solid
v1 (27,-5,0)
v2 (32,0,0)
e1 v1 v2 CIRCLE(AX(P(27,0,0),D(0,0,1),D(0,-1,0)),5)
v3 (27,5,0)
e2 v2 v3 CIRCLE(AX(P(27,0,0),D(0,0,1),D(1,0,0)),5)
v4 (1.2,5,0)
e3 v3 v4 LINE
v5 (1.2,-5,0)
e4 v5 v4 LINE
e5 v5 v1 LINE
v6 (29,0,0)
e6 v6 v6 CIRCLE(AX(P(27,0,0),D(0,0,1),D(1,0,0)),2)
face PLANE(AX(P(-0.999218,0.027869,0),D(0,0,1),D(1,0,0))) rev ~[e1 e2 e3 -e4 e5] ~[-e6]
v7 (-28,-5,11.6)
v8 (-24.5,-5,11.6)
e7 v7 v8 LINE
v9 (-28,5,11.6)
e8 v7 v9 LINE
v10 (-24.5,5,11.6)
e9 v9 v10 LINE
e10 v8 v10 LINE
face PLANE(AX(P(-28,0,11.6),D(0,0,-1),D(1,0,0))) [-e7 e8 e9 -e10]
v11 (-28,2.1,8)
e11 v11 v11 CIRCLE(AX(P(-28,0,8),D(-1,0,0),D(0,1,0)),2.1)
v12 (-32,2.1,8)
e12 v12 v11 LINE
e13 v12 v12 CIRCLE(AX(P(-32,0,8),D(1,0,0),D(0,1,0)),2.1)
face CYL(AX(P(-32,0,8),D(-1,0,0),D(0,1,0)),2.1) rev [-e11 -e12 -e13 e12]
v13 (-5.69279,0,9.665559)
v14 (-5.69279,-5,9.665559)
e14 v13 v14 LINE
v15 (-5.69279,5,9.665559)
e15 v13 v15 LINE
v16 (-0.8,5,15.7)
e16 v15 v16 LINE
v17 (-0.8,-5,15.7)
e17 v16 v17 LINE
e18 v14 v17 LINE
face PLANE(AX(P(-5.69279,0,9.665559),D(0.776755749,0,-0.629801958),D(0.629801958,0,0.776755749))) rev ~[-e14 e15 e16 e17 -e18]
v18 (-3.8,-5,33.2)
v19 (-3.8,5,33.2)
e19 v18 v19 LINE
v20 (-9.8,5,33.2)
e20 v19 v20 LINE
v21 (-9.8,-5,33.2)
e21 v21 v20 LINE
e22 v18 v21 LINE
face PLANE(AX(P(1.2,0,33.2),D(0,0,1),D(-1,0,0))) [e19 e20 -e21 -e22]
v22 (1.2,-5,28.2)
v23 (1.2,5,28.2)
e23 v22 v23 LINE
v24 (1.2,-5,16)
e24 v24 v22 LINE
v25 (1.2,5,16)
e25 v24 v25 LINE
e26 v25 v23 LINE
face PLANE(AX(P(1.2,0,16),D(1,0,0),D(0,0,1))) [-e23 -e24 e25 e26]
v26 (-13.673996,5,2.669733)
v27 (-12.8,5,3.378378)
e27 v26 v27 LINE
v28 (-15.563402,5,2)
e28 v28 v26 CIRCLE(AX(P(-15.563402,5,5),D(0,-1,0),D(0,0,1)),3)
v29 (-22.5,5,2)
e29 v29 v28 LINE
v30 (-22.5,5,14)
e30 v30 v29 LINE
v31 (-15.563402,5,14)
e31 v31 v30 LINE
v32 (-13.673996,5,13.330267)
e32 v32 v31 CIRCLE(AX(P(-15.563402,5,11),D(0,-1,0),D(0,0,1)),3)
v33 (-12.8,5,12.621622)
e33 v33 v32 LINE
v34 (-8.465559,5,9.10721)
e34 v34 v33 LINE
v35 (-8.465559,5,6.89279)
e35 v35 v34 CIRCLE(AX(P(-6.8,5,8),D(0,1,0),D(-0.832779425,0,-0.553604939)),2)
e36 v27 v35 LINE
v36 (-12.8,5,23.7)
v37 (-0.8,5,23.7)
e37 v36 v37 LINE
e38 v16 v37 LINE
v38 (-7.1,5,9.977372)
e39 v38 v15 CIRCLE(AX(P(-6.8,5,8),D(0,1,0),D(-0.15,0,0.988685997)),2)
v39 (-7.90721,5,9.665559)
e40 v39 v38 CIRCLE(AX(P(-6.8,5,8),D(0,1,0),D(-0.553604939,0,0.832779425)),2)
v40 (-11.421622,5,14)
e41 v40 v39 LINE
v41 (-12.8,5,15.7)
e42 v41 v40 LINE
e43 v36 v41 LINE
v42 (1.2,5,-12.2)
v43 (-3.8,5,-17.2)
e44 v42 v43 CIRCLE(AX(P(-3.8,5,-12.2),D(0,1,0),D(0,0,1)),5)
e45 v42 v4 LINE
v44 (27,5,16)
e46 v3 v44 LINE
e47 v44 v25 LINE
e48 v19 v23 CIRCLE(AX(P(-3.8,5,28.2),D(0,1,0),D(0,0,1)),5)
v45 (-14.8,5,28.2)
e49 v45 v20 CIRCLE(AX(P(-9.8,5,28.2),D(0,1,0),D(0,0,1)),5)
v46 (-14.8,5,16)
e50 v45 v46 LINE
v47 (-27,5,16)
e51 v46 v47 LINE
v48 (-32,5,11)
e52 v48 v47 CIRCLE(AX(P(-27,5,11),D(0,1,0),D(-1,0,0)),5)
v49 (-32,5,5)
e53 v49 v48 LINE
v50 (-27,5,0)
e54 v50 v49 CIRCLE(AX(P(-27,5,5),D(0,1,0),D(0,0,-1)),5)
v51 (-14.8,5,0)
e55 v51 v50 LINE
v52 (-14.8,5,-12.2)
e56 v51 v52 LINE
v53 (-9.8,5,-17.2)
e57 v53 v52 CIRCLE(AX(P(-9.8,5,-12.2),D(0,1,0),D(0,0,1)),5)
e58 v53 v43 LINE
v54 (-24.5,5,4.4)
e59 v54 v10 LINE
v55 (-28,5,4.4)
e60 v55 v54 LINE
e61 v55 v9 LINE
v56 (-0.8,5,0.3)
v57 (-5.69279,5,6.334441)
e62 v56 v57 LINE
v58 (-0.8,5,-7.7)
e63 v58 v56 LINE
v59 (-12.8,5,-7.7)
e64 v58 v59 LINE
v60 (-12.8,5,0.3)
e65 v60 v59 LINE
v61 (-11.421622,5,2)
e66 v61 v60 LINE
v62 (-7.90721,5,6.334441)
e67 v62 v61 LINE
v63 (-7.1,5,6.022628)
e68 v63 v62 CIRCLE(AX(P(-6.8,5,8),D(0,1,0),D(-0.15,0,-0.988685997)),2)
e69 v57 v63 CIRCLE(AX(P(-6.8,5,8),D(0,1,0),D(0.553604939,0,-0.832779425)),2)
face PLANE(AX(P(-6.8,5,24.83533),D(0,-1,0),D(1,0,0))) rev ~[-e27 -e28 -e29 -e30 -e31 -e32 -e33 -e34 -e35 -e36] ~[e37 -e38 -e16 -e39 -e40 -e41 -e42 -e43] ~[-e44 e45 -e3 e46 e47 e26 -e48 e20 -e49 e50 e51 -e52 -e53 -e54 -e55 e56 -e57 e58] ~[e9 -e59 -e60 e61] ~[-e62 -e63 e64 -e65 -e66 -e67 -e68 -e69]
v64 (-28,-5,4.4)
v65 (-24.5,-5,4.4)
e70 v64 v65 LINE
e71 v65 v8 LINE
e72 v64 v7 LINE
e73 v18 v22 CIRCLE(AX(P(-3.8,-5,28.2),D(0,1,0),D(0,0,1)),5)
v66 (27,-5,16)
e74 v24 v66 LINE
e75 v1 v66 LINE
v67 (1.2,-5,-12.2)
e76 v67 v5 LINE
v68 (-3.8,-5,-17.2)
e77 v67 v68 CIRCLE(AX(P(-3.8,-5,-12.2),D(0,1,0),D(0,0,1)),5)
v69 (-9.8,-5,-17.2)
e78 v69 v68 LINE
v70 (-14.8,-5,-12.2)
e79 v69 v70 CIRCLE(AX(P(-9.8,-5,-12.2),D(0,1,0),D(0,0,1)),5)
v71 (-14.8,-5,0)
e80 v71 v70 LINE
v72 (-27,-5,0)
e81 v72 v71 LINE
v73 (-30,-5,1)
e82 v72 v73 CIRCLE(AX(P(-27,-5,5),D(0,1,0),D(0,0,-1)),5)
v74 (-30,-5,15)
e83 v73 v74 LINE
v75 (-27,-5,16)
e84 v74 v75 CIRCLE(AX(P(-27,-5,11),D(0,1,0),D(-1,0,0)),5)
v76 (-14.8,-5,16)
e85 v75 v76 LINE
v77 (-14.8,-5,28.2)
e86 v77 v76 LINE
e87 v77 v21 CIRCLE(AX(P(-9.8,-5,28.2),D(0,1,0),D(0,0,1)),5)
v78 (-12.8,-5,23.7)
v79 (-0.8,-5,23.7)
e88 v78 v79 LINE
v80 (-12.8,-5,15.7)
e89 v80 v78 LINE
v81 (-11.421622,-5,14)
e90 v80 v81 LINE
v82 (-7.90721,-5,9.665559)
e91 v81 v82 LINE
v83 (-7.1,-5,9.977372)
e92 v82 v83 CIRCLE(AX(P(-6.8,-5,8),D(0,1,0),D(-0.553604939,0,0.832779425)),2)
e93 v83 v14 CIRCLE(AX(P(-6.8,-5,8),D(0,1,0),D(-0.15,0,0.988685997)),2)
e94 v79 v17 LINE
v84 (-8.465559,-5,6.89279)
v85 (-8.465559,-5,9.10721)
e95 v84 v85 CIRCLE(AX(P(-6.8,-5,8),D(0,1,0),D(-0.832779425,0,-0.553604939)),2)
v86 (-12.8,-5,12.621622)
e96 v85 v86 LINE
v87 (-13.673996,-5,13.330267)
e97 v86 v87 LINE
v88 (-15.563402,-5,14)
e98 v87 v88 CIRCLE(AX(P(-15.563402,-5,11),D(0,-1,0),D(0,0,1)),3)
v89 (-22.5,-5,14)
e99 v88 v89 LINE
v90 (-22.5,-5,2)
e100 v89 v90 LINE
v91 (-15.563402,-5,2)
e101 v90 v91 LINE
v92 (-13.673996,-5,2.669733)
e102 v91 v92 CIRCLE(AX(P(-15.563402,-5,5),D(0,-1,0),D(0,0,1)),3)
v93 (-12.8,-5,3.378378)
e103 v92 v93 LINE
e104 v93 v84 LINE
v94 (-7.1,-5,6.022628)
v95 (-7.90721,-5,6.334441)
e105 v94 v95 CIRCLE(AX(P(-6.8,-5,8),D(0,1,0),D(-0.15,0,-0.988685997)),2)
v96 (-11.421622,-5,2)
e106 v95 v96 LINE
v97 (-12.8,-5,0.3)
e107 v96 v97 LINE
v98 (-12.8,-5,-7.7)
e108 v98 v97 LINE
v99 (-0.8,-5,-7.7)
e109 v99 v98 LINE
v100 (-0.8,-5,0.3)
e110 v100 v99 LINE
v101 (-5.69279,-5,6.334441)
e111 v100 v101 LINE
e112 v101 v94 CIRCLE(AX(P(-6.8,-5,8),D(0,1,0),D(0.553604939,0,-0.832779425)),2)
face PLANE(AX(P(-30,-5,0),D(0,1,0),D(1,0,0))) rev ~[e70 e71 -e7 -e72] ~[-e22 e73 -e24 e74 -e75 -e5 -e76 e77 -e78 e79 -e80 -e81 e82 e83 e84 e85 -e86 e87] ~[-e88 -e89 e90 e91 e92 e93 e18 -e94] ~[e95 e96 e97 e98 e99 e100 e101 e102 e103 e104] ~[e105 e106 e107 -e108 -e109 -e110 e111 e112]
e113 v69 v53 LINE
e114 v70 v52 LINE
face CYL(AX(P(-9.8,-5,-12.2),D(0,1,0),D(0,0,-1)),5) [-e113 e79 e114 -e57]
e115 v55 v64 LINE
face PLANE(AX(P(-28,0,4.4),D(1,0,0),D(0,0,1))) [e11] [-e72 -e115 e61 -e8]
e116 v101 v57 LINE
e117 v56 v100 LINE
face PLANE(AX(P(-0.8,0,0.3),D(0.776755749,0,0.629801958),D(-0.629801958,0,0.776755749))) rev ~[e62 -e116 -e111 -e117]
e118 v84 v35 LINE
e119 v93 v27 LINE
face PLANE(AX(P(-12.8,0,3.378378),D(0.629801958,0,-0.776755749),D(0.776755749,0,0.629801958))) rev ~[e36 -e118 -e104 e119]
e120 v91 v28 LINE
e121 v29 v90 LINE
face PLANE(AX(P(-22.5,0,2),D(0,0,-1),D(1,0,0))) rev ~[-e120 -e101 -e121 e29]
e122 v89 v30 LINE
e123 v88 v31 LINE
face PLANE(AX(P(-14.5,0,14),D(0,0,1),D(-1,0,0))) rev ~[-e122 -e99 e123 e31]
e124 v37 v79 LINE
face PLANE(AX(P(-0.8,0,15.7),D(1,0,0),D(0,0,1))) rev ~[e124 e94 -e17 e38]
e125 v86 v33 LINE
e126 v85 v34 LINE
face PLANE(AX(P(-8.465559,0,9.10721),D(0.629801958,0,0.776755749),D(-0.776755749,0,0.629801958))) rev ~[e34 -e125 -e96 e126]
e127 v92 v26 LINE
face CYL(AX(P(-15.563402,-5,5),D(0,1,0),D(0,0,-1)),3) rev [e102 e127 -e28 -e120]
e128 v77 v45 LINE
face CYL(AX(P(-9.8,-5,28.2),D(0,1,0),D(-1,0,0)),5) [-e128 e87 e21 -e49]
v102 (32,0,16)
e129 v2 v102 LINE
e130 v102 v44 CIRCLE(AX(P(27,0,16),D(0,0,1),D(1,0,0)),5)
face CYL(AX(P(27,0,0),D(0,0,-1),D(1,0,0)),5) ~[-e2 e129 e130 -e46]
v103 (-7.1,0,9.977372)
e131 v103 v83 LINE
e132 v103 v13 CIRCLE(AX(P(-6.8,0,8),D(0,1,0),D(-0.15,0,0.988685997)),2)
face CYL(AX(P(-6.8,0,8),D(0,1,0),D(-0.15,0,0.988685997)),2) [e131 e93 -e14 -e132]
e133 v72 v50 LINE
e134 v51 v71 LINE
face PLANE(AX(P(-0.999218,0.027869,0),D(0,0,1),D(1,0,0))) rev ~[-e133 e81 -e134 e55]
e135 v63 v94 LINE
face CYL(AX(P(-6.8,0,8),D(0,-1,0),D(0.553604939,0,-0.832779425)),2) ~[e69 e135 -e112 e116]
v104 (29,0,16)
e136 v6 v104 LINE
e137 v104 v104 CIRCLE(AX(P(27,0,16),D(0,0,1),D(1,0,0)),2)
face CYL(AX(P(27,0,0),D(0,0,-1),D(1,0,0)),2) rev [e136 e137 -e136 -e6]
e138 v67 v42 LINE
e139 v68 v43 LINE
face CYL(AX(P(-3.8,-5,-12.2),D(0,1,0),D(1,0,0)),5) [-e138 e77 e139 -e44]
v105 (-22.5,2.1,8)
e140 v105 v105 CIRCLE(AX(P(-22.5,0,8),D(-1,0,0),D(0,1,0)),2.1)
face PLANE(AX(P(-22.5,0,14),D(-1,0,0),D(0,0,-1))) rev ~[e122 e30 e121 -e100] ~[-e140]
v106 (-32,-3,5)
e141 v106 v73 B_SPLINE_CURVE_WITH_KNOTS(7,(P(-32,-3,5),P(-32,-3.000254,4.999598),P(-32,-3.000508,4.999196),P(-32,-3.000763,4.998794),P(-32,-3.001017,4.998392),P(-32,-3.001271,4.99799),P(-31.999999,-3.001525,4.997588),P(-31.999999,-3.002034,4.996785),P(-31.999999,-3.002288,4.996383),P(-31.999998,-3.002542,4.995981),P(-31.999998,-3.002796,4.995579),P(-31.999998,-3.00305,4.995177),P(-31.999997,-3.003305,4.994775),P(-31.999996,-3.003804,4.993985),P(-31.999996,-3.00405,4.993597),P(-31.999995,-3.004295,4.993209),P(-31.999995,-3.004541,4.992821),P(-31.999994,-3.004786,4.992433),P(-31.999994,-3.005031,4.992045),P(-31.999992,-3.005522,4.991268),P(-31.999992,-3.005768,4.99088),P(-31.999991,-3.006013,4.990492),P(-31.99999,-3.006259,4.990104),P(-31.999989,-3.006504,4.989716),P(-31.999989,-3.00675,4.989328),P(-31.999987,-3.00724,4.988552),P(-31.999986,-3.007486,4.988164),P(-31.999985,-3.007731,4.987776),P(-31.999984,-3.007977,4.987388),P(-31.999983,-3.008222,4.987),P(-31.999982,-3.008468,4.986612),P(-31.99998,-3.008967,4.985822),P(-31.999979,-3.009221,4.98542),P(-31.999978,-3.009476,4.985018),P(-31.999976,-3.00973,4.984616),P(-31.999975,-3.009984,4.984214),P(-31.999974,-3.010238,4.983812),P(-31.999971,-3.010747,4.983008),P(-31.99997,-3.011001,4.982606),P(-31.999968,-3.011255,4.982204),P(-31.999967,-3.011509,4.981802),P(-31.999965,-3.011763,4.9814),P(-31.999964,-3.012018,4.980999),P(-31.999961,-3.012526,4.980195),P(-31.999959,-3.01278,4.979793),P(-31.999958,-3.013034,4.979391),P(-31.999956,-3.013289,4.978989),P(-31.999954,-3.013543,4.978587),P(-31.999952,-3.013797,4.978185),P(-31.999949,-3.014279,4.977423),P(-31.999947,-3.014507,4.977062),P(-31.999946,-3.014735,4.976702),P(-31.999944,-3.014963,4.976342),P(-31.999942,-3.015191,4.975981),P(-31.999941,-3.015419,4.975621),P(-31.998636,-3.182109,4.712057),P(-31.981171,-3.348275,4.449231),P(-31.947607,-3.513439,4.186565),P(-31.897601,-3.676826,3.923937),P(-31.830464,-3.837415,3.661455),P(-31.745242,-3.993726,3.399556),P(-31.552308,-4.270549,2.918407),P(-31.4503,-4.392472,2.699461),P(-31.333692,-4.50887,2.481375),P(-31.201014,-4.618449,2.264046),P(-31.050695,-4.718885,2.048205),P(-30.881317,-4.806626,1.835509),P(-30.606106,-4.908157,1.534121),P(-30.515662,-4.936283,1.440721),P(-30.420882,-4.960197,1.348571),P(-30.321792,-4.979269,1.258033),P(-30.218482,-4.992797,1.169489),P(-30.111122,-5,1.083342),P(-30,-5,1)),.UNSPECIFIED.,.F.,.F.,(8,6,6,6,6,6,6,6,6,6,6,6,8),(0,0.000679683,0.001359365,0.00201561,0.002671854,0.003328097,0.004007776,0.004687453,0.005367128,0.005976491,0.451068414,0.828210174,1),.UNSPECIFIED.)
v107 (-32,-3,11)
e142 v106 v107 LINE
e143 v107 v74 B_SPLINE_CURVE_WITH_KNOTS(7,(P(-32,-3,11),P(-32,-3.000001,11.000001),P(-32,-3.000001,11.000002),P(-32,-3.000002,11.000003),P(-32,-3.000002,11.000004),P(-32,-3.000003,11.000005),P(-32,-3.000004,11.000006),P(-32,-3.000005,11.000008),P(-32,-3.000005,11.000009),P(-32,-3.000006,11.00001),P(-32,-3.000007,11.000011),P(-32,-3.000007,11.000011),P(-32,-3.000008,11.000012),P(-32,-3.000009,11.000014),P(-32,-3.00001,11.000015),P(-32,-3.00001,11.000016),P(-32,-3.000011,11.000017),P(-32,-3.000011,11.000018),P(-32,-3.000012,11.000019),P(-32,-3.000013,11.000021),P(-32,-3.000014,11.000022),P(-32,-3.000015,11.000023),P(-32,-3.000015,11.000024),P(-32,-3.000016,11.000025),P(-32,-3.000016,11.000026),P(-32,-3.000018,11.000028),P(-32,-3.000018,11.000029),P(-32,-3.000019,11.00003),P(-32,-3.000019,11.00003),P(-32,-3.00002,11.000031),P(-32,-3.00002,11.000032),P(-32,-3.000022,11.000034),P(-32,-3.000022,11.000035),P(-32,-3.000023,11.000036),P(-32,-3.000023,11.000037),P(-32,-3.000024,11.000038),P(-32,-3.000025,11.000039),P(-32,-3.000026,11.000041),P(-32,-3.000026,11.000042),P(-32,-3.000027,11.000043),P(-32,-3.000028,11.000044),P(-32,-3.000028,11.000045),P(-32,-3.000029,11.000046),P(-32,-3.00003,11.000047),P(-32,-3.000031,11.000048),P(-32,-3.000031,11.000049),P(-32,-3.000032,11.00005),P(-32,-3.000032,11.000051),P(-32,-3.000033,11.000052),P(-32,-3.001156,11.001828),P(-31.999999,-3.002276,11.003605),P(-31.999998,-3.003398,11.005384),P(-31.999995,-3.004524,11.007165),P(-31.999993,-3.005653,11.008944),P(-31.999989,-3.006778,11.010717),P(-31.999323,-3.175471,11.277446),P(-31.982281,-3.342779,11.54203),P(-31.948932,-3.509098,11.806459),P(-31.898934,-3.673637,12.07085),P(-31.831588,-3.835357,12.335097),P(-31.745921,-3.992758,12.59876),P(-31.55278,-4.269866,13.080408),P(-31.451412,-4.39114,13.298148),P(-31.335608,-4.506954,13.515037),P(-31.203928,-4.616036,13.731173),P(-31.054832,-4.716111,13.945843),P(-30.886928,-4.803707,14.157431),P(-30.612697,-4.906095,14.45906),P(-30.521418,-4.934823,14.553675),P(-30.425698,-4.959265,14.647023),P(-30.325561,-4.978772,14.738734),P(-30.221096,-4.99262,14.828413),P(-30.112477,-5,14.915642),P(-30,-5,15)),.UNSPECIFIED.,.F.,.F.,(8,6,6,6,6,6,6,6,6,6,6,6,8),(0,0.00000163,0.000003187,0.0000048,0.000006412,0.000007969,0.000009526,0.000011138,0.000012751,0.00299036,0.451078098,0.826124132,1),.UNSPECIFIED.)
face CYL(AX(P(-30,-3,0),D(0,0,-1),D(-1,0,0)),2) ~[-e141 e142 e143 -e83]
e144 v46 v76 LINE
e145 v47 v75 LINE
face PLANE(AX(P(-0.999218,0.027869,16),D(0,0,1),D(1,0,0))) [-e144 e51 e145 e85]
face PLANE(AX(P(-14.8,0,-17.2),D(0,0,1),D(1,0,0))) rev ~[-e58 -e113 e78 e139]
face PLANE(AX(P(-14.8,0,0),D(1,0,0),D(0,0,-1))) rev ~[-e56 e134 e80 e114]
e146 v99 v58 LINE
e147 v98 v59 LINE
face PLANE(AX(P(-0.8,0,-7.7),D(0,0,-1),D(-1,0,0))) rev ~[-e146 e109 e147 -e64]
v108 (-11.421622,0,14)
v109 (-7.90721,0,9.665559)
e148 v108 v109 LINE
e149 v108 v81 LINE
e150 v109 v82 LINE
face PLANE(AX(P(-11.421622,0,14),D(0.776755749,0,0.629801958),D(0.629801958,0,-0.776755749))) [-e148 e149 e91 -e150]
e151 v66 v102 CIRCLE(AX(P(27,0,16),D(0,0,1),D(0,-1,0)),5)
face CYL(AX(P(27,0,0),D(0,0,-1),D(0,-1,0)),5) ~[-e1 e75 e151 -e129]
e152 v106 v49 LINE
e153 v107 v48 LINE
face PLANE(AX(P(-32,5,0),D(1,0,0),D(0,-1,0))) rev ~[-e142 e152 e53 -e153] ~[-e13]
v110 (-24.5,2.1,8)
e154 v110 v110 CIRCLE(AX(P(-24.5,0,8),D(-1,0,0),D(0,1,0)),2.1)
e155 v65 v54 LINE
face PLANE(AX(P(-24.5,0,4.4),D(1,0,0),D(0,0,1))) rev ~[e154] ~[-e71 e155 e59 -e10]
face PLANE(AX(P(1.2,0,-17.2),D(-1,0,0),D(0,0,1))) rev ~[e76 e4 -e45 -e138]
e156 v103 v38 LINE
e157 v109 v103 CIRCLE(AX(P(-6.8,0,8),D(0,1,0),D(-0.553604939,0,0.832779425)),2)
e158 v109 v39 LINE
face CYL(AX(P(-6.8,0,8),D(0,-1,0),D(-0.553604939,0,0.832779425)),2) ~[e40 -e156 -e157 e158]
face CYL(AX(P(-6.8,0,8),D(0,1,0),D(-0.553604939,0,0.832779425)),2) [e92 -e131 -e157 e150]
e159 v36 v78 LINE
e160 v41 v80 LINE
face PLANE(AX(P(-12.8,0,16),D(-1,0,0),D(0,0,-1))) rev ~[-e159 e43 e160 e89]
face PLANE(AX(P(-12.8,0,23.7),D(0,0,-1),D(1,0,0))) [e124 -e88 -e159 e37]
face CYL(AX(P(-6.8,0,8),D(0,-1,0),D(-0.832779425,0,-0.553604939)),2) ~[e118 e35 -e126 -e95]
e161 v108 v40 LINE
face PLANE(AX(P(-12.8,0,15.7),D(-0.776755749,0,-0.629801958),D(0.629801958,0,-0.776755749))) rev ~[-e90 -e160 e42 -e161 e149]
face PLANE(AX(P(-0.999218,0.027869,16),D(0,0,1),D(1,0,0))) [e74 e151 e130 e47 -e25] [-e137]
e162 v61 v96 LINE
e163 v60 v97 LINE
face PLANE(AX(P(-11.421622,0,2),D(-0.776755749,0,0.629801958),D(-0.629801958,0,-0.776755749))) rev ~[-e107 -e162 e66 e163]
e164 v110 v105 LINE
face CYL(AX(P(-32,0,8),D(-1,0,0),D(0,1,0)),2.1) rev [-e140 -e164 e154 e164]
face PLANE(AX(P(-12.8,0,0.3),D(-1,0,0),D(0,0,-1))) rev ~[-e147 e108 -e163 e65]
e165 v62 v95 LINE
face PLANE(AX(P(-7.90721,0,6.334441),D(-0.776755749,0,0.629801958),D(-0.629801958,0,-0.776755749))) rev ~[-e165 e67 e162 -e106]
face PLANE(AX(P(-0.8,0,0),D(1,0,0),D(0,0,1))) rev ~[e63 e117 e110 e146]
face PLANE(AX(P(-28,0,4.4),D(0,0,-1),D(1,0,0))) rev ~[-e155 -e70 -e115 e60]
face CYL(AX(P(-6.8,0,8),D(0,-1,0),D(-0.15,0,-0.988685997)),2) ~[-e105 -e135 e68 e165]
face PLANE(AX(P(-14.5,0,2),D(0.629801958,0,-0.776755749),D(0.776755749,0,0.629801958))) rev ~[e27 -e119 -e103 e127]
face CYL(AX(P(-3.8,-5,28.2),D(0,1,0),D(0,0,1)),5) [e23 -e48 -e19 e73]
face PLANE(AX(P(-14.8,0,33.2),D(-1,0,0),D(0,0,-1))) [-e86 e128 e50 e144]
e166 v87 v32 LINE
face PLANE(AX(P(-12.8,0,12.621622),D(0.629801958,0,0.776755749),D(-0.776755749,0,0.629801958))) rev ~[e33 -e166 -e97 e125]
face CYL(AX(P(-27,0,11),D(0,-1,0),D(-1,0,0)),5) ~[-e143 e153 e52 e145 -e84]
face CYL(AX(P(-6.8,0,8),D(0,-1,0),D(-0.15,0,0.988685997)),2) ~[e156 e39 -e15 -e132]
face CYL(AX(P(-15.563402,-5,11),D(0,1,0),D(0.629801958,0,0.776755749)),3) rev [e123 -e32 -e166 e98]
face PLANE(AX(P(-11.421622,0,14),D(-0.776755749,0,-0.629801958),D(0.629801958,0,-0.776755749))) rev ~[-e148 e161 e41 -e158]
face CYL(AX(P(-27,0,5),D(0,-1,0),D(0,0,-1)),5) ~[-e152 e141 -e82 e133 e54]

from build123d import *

# Parameters (mm, degrees)
F0_R      = 2
F1_DEPTH  = 16
F2_W      = 3.5
F2_H      = 7.2
F3_DEPTH  = 5
F4_DEPTH  = 5
F6_R      = 2.1
F7_DEPTH  = 10
F8_R      = 3
F9_DEPTH  = 5
F10_DEPTH = 5
F11_DEPTH = 5
F12_DEPTH = 5
F13_R     = 5


with BuildPart() as f1:
    # F0 (on Top) → F1 (new body)
    with BuildSketch(Plane.XY):
        with BuildLine():
            ThreePointArc((32, 0), (30.5355339059, 3.5355339059), (27, 5))
            Line((27, 5), (18, 5))
            Line((18, 5), (8, 5))
            Line((8, 5), (-32, 5))
            Line((-32, 5), (-32, -3))
            Line((-32, -3), (-30, -3))
            Line((-30, -3), (-30, -5))
            Line((-30, -5), (27, -5))
            ThreePointArc((27, -5), (30.5355339059, -3.5355339059), (32, 0))
        make_face()
        with Locations((27, 0)):
            Circle(F0_R, mode=Mode.SUBTRACT)
        with BuildLine():
            ThreePointArc((-32, -3), (-31.4142135624, -4.4142135624), (-30, -5))
            Line((-30, -5), (-30, -3))
            Line((-30, -3), (-32, -3))
        make_face()
    extrude(amount=F1_DEPTH)

    # F2 (on Front) → F3 (cut)
    with BuildSketch(Plane.XZ):
        with BuildLine():
            Line((-32, 16), (-32, 11))
            ThreePointArc((-32, 11), (-30.5355339059, 14.5355339059), (-27, 16))
            Line((-27, 16), (-32, 16))
        make_face()
        with BuildLine():
            Line((-32, 0), (-27, 0))
            ThreePointArc((-27, 0), (-30.5355339059, 1.4644660941), (-32, 5))
            Line((-32, 5), (-32, 0))
        make_face()
        with Locations((-26.25, 8)):
            Rectangle(F2_W, F2_H)
        with BuildLine():
            Line((-22.5, 2), (-14.5, 2))
            Line((-14.5, 2), (-12.8, 3.3783783784))
            Line((-12.8, 3.3783783784), (-8.4655588505, 6.8927901212))
            ThreePointArc((-8.4655588505, 6.8927901212), (-8.8, 8), (-8.4655588505, 9.1072098788))
            Line((-8.4655588505, 9.1072098788), (-12.8, 12.6216216216))
            Line((-12.8, 12.6216216216), (-14.5, 14))
            Line((-14.5, 14), (-22.5, 14))
            Line((-22.5, 14), (-22.5, 2))
        make_face()
    extrude(amount=-F3_DEPTH, mode=Mode.SUBTRACT)

    # F2 (on Front) → F4 (cut)
    with BuildSketch(Plane.XZ):
        with Locations((-26.25, 8)):
            Rectangle(F2_W, F2_H)
        with BuildLine():
            Line((-22.5, 2), (-14.5, 2))
            Line((-14.5, 2), (-12.8, 3.3783783784))
            Line((-12.8, 3.3783783784), (-8.4655588505, 6.8927901212))
            ThreePointArc((-8.4655588505, 6.8927901212), (-8.8, 8), (-8.4655588505, 9.1072098788))
            Line((-8.4655588505, 9.1072098788), (-12.8, 12.6216216216))
            Line((-12.8, 12.6216216216), (-14.5, 14))
            Line((-14.5, 14), (-22.5, 14))
            Line((-22.5, 14), (-22.5, 2))
        make_face()
        with BuildLine():
            Line((-32, 16), (-32, 11))
            ThreePointArc((-32, 11), (-30.5355339059, 14.5355339059), (-27, 16))
            Line((-27, 16), (-32, 16))
        make_face()
        with BuildLine():
            Line((-32, 0), (-27, 0))
            ThreePointArc((-27, 0), (-30.5355339059, 1.4644660941), (-32, 5))
            Line((-32, 5), (-32, 0))
        make_face()
    extrude(amount=F4_DEPTH, mode=Mode.SUBTRACT)

    # F6 (on offset) → F7 (cut)
    with BuildSketch(Plane.YZ.offset(-32)):
        with Locations((0, 8)):
            Circle(F6_R)
    extrude(amount=F7_DEPTH, mode=Mode.SUBTRACT)

    # F8
    f8_edges = [f1.edges().sort_by_distance(p)[0] for p in [
        (-14.5, 0, 2),
        (-14.5, 0, 14),
    ]]
    fillet(f8_edges, radius=F8_R)

    # F2 (on Front) → F9 (join)
    with BuildSketch(Plane.XZ):
        Polygon((-14.8, 33.2), (-14.8, 16), (-12.8, 16), (-12.8, 23.7), (-0.8, 23.7), (-0.8, 16), (1.2, 16), (1.2, 33.2), align=None)
        Polygon((-12.8, 0), (-14.8, 0), (-14.8, -17.2), (1.2, -17.2), (1.2, 0), (-0.8, 0), (-0.8, -7.7), (-12.8, -7.7), align=None)
    extrude(amount=F9_DEPTH)

    # F2 (on Front) → F10 (join)
    with BuildSketch(Plane.XZ):
        Polygon((-14.8, 33.2), (-14.8, 16), (-12.8, 16), (-12.8, 23.7), (-0.8, 23.7), (-0.8, 16), (1.2, 16), (1.2, 33.2), align=None)
        Polygon((-12.8, 0), (-14.8, 0), (-14.8, -17.2), (1.2, -17.2), (1.2, 0), (-0.8, 0), (-0.8, -7.7), (-12.8, -7.7), align=None)
    extrude(amount=-F10_DEPTH)

    # F2 (on Front) → F11 (cut)
    with BuildSketch(Plane.XZ):
        with BuildLine():
            Line((-12.8, 0.3), (-12.8, 0))
            Line((-12.8, 0), (-0.8, 0))
            Line((-0.8, 0), (-0.8, 0.3))
            Line((-0.8, 0.3), (-5.6927901212, 6.3344411495))
            ThreePointArc((-5.6927901212, 6.3344411495), (-6.3673294485, 6.047361735), (-7.1, 6.0226280067))
            Line((-7.1, 6.0226280067), (-7.1, 2))
            Line((-7.1, 2), (-11.4216216216, 2))
            Line((-11.4216216216, 2), (-12.8, 0.3))
        make_face()
        with BuildLine():
            Line((-7.9072098788, 6.3344411495), (-11.4216216216, 2))
            Line((-11.4216216216, 2), (-7.1, 2))
            Line((-7.1, 2), (-7.1, 6.0226280067))
            ThreePointArc((-7.1, 6.0226280067), (-7.5206710552, 6.1343544736), (-7.9072098788, 6.3344411495))
        make_face()
        with BuildLine():
            Line((-0.8, 16), (-12.8, 16))
            Line((-12.8, 16), (-12.8, 15.7))
            Line((-12.8, 15.7), (-11.4216216216, 14))
            Line((-11.4216216216, 14), (-7.1, 14))
            Line((-7.1, 14), (-7.1, 9.9773719933))
            ThreePointArc((-7.1, 9.9773719933), (-6.3673294485, 9.952638265), (-5.6927901212, 9.6655588505))
            Line((-5.6927901212, 9.6655588505), (-0.8, 15.7))
            Line((-0.8, 15.7), (-0.8, 16))
        make_face()
        with BuildLine():
            Line((-7.1, 14), (-11.4216216216, 14))
            Line((-11.4216216216, 14), (-7.9072098788, 9.6655588505))
            ThreePointArc((-7.9072098788, 9.6655588505), (-7.5206710552, 9.8656455264), (-7.1, 9.9773719933))
            Line((-7.1, 9.9773719933), (-7.1, 14))
        make_face()
    extrude(amount=-F11_DEPTH, mode=Mode.SUBTRACT)

    # F2 (on Front) → F12 (cut)
    with BuildSketch(Plane.XZ):
        with BuildLine():
            Line((-12.8, 0.3), (-12.8, 0))
            Line((-12.8, 0), (-0.8, 0))
            Line((-0.8, 0), (-0.8, 0.3))
            Line((-0.8, 0.3), (-5.6927901212, 6.3344411495))
            ThreePointArc((-5.6927901212, 6.3344411495), (-6.3673294485, 6.047361735), (-7.1, 6.0226280067))
            Line((-7.1, 6.0226280067), (-7.1, 2))
            Line((-7.1, 2), (-11.4216216216, 2))
            Line((-11.4216216216, 2), (-12.8, 0.3))
        make_face()
        with BuildLine():
            Line((-7.9072098788, 6.3344411495), (-11.4216216216, 2))
            Line((-11.4216216216, 2), (-7.1, 2))
            Line((-7.1, 2), (-7.1, 6.0226280067))
            ThreePointArc((-7.1, 6.0226280067), (-7.5206710552, 6.1343544736), (-7.9072098788, 6.3344411495))
        make_face()
        with BuildLine():
            Line((-0.8, 16), (-12.8, 16))
            Line((-12.8, 16), (-12.8, 15.7))
            Line((-12.8, 15.7), (-11.4216216216, 14))
            Line((-11.4216216216, 14), (-7.1, 14))
            Line((-7.1, 14), (-7.1, 9.9773719933))
            ThreePointArc((-7.1, 9.9773719933), (-6.3673294485, 9.952638265), (-5.6927901212, 9.6655588505))
            Line((-5.6927901212, 9.6655588505), (-0.8, 15.7))
            Line((-0.8, 15.7), (-0.8, 16))
        make_face()
        with BuildLine():
            Line((-7.1, 14), (-11.4216216216, 14))
            Line((-11.4216216216, 14), (-7.9072098788, 9.6655588505))
            ThreePointArc((-7.9072098788, 9.6655588505), (-7.5206710552, 9.8656455264), (-7.1, 9.9773719933))
            Line((-7.1, 9.9773719933), (-7.1, 14))
        make_face()
    extrude(amount=F12_DEPTH, mode=Mode.SUBTRACT)

    # F13
    f13_edges = [f1.edges().sort_by_distance(p)[0] for p in [
        (-14.8, 0, 33.2),
        (1.2, 0, 33.2),
        (-14.8, 0, -17.2),
        (1.2, 0, -17.2),
    ]]
    fillet(f13_edges, radius=F13_R)


solid = f1.part
